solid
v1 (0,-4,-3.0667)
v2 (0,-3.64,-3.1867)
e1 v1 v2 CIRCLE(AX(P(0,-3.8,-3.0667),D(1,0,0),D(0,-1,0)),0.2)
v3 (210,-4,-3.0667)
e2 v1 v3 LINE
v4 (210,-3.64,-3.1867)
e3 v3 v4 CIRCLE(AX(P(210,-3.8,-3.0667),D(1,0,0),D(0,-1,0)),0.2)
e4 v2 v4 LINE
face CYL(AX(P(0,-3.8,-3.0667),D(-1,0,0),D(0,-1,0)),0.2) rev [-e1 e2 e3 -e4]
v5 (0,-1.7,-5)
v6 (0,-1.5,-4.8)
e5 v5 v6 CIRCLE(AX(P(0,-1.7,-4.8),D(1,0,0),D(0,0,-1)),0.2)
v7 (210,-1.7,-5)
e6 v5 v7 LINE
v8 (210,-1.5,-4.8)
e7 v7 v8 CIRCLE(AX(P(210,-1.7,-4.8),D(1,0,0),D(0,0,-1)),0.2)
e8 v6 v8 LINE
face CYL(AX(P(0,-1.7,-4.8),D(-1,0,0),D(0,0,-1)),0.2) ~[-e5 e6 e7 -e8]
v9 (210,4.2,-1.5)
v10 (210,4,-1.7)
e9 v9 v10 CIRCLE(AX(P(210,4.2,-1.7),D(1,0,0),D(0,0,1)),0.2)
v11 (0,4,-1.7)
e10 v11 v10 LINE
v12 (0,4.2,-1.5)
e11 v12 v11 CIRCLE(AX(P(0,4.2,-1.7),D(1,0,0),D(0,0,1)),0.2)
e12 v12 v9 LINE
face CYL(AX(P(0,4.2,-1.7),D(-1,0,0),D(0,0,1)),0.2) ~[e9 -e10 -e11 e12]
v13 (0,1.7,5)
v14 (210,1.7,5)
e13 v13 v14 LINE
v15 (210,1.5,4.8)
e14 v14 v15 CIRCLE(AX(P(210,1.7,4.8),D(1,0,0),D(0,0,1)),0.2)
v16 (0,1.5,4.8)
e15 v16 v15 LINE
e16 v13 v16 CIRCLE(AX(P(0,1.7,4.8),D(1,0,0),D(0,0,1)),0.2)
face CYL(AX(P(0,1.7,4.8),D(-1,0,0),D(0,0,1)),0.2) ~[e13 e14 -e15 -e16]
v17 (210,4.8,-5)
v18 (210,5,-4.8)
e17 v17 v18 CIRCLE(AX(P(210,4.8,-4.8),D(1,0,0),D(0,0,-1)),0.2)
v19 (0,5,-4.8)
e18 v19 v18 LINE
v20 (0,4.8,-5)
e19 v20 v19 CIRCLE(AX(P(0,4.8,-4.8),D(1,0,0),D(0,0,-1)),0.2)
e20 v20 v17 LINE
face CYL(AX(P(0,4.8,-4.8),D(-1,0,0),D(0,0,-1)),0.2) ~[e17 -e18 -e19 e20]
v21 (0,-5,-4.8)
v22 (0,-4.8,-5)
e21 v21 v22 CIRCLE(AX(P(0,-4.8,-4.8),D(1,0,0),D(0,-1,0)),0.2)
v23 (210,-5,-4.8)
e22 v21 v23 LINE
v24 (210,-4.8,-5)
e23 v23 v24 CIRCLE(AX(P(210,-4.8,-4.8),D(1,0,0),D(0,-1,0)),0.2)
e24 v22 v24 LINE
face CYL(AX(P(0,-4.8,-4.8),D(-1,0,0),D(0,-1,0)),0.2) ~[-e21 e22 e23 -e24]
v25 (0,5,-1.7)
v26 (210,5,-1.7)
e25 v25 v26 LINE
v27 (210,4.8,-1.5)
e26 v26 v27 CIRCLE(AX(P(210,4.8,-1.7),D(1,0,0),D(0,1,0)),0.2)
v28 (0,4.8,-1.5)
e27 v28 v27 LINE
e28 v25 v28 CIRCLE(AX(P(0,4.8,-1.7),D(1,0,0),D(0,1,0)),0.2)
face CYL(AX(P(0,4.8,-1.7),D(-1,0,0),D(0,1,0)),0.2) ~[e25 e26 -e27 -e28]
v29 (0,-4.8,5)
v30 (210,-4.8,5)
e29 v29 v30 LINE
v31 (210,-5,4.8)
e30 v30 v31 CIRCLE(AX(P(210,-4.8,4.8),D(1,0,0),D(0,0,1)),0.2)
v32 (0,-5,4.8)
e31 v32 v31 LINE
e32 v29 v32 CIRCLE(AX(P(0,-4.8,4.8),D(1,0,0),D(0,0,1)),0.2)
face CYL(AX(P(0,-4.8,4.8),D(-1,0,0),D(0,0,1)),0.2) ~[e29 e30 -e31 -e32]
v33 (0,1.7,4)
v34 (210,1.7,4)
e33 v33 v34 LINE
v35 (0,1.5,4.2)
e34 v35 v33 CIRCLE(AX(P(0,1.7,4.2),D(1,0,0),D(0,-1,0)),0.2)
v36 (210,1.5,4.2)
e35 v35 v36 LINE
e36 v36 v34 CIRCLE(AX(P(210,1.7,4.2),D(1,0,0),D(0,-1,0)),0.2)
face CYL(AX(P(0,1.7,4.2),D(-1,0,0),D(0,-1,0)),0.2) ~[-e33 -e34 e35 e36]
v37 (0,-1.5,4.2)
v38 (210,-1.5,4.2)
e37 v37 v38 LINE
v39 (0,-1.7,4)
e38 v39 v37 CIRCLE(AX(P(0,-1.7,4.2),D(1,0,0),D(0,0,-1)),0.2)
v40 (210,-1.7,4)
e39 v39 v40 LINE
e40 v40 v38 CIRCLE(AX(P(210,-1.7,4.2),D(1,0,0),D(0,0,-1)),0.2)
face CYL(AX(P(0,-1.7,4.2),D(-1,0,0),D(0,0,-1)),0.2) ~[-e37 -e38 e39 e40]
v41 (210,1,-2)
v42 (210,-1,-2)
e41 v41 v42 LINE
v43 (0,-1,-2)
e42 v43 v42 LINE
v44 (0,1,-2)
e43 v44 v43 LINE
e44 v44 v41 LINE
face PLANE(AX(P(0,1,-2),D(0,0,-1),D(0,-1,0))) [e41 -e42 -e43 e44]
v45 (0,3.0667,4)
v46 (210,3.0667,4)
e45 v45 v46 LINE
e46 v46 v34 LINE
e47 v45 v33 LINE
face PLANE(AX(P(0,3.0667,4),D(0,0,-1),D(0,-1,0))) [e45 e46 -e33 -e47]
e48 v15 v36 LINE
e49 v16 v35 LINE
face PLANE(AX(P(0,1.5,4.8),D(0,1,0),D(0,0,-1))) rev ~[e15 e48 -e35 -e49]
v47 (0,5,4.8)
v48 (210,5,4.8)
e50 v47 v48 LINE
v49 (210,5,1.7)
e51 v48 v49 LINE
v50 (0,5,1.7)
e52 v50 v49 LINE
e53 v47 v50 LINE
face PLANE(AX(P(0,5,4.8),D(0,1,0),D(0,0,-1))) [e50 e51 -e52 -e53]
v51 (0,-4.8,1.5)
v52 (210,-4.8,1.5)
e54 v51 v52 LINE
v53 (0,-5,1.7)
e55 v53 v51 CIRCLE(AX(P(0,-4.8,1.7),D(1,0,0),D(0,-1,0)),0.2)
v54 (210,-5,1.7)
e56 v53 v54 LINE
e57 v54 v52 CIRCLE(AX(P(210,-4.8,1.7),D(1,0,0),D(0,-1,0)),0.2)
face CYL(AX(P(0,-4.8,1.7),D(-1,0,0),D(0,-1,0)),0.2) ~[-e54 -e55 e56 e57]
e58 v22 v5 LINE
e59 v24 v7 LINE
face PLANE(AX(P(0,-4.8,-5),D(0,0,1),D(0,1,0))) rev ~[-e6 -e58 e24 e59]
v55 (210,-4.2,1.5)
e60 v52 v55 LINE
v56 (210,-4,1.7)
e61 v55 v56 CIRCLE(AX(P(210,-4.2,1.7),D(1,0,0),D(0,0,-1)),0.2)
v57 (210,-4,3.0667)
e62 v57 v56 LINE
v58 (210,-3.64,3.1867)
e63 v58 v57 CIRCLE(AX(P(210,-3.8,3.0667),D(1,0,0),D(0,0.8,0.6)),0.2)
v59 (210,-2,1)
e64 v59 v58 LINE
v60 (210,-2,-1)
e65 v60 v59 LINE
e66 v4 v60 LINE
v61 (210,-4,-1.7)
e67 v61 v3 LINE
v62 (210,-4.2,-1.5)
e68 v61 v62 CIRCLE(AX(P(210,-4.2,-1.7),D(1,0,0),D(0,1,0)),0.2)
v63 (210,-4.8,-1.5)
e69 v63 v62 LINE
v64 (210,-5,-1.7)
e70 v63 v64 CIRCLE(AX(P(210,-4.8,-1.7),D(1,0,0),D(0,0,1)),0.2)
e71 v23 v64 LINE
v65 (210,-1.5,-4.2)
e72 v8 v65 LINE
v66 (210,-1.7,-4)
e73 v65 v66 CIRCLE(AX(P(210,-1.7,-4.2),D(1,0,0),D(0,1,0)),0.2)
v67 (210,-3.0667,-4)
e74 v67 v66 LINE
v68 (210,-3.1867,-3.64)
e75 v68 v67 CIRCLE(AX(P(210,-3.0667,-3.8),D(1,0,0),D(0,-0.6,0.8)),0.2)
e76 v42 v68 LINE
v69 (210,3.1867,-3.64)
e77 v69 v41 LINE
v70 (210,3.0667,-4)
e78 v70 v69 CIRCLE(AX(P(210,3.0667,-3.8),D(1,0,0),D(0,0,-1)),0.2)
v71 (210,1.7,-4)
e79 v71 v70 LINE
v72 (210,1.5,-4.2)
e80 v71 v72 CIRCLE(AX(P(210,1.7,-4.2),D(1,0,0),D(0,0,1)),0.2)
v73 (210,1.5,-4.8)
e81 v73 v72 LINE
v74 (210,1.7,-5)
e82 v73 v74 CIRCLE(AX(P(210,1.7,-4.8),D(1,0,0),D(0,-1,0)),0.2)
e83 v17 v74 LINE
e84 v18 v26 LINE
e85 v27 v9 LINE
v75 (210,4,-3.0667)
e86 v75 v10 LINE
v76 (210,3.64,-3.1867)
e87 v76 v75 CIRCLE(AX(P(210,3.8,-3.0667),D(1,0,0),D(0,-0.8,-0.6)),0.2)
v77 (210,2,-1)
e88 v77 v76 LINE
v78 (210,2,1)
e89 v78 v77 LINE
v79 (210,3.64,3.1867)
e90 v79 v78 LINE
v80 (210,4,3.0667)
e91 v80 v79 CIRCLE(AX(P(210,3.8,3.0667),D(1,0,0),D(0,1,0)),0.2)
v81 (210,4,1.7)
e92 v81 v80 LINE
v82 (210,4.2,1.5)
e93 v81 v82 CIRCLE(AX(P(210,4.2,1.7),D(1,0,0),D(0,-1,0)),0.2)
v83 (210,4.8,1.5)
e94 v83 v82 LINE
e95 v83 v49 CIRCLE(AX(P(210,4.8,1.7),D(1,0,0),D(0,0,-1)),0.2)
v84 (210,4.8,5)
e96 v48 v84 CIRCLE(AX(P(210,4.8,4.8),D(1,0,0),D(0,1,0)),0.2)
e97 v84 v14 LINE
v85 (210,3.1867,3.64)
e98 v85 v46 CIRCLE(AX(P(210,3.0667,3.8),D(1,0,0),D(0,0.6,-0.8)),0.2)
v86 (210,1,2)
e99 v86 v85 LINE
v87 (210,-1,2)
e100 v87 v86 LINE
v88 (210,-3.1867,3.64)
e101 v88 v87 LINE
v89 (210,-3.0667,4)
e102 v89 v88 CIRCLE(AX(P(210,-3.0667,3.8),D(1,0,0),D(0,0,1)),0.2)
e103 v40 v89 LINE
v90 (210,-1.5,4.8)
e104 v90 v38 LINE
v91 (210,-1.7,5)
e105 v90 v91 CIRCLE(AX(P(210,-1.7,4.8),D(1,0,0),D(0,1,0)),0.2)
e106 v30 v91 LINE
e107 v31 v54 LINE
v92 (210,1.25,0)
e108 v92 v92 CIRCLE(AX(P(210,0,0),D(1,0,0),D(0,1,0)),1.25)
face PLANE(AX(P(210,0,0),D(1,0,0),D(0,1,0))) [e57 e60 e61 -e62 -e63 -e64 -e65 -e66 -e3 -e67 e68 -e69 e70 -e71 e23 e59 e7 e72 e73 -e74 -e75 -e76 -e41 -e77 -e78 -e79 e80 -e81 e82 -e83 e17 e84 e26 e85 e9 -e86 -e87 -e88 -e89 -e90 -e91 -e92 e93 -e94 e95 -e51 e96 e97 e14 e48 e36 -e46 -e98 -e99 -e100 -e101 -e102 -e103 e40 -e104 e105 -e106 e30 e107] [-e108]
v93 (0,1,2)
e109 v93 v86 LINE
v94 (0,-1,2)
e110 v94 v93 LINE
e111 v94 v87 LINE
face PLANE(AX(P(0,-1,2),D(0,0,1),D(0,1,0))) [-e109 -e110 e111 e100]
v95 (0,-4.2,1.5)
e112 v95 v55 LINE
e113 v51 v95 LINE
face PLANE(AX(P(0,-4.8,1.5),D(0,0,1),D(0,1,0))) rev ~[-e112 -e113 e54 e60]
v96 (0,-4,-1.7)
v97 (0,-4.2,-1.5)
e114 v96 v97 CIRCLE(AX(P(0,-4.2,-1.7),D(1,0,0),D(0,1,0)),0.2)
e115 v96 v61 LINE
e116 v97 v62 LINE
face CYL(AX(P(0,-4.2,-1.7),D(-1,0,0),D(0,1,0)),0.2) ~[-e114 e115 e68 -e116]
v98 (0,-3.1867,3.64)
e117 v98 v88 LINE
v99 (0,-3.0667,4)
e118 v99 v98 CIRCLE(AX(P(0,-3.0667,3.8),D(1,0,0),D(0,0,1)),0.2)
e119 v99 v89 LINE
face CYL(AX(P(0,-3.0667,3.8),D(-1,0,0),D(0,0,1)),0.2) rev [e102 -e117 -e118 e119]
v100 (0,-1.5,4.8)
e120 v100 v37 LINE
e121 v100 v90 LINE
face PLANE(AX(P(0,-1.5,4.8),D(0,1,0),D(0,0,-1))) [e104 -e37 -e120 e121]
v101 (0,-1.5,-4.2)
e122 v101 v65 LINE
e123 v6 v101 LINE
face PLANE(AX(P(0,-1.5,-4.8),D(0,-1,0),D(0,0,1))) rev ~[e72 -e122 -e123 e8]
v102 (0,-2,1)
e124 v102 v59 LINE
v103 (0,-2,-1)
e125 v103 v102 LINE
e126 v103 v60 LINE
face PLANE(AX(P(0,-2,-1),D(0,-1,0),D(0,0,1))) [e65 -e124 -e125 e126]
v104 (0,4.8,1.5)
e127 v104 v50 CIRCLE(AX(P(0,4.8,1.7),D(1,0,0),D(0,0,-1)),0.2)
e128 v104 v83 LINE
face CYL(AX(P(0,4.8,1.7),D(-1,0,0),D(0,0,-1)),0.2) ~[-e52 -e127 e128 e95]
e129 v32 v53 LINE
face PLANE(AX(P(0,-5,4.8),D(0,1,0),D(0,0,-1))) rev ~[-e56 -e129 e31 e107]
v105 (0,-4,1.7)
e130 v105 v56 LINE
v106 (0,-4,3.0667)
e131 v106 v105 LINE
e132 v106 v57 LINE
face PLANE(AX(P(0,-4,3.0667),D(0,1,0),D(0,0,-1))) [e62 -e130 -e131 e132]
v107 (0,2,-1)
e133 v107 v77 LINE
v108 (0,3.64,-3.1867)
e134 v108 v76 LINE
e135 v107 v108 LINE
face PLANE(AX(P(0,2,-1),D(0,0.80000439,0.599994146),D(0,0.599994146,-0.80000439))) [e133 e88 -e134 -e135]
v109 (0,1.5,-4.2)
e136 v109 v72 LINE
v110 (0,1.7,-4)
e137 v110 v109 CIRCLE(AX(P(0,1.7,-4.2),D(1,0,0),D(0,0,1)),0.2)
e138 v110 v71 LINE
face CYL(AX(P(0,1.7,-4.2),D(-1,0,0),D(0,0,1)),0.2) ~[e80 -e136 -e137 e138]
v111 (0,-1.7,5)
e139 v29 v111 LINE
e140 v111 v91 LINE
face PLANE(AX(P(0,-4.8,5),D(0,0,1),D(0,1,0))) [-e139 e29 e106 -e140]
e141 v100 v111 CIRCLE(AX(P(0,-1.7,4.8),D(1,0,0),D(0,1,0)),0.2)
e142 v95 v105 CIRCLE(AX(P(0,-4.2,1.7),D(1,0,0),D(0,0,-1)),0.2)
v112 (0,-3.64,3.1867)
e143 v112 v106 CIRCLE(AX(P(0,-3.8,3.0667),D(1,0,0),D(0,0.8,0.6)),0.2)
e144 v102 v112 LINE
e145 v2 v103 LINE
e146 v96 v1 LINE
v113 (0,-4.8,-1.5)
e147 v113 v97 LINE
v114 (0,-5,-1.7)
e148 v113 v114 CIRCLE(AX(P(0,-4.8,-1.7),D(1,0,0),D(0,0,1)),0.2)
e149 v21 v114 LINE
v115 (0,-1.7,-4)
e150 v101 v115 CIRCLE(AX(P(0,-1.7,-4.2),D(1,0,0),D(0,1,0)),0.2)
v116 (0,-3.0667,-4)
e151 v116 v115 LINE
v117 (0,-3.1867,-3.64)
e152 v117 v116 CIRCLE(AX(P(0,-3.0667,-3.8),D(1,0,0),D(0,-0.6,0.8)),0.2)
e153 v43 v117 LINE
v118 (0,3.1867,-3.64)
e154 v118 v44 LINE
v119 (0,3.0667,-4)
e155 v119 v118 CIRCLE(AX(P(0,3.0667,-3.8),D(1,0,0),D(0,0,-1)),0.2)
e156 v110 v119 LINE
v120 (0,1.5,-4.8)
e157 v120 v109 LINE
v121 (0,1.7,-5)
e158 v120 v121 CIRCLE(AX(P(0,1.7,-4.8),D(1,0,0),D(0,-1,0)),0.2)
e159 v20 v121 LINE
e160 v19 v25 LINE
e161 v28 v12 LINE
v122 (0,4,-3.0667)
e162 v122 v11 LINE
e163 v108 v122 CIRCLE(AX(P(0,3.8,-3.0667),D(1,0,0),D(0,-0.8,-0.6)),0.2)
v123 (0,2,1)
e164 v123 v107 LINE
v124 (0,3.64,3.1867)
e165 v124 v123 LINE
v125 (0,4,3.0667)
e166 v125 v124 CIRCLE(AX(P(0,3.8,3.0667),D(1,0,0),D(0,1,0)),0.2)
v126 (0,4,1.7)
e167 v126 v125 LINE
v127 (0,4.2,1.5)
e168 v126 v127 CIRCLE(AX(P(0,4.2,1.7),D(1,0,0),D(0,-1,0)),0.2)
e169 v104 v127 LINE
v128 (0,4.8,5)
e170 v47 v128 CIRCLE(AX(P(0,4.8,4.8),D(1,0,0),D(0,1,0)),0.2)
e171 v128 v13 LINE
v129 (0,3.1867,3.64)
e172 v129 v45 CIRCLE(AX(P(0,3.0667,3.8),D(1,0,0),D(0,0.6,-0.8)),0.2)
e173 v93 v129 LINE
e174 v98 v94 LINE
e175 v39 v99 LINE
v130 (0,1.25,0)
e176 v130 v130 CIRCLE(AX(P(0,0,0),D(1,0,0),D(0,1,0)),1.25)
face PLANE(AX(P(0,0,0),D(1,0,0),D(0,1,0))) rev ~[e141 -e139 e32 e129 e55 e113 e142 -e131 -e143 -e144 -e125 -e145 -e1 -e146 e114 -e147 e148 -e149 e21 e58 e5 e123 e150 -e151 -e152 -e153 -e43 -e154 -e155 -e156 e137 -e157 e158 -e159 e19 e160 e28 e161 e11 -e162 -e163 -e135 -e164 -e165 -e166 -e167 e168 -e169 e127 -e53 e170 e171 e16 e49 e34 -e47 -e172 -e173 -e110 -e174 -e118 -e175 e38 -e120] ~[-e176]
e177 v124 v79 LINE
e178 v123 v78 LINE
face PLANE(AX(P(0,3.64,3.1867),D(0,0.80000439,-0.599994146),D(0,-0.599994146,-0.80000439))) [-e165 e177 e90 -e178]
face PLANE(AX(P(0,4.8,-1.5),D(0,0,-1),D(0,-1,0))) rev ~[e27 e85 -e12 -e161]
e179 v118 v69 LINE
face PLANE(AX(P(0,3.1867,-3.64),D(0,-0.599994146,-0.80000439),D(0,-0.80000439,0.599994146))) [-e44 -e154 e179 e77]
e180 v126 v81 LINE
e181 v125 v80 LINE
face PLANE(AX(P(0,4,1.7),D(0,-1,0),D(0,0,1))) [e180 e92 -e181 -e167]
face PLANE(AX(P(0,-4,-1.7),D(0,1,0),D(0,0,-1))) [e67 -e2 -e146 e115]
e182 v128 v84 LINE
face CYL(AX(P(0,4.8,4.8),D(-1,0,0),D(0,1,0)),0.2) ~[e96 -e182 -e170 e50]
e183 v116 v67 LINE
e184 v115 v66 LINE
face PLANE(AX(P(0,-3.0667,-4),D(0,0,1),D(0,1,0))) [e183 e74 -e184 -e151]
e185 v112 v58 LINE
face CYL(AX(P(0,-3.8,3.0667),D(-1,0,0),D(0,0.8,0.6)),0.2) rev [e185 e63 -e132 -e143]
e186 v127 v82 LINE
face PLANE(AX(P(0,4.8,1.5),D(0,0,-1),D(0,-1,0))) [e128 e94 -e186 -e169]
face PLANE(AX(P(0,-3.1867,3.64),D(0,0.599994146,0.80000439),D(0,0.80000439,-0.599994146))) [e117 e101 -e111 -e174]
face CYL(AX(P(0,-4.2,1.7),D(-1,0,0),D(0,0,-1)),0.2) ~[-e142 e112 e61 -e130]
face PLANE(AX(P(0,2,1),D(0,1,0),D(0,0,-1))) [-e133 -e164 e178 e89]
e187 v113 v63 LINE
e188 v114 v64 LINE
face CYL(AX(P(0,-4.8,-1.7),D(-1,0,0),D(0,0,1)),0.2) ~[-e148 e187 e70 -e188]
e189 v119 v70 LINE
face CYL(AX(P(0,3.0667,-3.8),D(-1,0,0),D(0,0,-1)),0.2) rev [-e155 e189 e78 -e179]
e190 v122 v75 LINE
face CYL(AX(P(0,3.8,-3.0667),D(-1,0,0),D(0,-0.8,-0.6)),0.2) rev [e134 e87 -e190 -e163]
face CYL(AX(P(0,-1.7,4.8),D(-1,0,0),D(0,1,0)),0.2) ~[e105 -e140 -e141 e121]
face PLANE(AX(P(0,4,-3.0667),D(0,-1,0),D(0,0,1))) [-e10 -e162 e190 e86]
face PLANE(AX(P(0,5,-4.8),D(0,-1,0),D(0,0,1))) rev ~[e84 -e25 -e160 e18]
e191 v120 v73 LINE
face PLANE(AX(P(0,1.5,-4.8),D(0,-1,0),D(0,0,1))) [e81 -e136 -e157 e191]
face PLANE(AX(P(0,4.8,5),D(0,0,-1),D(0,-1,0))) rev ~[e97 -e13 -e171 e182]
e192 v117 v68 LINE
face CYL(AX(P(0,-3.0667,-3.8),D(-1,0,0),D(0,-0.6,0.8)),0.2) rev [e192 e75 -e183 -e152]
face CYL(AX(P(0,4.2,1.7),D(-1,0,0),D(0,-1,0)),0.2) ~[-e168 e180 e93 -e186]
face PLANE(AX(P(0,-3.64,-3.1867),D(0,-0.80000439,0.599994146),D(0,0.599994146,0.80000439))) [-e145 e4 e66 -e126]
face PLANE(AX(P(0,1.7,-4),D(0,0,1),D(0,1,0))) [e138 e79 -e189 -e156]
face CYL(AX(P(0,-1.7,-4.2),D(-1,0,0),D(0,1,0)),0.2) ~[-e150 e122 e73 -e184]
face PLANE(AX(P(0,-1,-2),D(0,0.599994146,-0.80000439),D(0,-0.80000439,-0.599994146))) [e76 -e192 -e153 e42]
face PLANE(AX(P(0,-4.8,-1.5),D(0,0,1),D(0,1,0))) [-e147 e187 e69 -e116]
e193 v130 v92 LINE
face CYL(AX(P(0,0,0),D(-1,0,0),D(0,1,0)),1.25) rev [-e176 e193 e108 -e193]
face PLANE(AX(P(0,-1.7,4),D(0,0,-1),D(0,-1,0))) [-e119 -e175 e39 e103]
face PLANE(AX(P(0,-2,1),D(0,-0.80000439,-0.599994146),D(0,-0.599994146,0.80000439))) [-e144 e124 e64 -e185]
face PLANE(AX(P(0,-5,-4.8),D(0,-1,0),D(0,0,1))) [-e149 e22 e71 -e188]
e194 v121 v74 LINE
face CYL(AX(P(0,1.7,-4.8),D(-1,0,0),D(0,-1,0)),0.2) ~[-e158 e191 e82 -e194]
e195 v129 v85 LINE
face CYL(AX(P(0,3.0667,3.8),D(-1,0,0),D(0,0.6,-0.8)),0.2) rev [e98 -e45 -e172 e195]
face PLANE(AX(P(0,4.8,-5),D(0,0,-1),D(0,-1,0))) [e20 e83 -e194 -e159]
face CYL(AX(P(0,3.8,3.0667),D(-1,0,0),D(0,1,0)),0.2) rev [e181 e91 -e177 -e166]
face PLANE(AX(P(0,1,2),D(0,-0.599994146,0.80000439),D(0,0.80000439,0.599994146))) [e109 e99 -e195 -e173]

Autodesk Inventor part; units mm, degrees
ref_plane "YZ Plane" through (0, 0, 0) normal (1, 0, 0) x (0, 1, 0)
ref_plane "XZ Plane" through (0, 0, 0) normal (0, 1, 0) x (-1, 0, 0)
ref_plane "XY Plane" through (0, 0, 0) normal (0, 0, 1) x (1, 0, 0)
sketch "Esquisse1" plane through (0, 0, 0) normal (1, 0, 0) x (0, 1, 0)
  line L0 (-5, -5) -> (5, 5) construction
  line L1 (5, -5) -> (-5, 5) construction
  circle A0 centre (0, 0) radius 1.25
  line L2 (2, 1) -> (2, -1)
  line L3 (-1, 2) -> (1, 2)
  line L4 (-2, -1) -> (-2, 1)
  line L5 (1, -2) -> (-1, -2)
  line L6 (4.8, -5) -> (1.7, -5)
  line L7 (5, -4.8) -> (5, -1.7)
  line L8 (1.5, -4.8) -> (1.5, -4.2)
  line L9 (12.6837, 0) -> (-8.9006, 0) construction
  line L10 (1.5, -4) -> (4, -4) construction
  line L11 (4, -4) -> (4, -1.5) construction
  line L12 (4, -1.5) -> (5, -1.5) construction
  line L13 (5, -5) -> (2, -1) construction
  line L14 (2, -1) -> (4, -3.6667) construction
  line L15 (2, -1) -> (4, -3.6667) construction
  line L16 (4, -3.0667) -> (4, -1.7)
  line L17 (4.8, -1.5) -> (4.2, -1.5)
  line L18 (1, -2) -> (5, -5) construction
  line L19 (1.7, -4) -> (3.0667, -4)
  line L20 (3.1867, -3.64) -> (1, -2)
  line L21 (2, -1) -> (3.64, -3.1867)
  arc A1 (5, -1.7) -> (4.8, -1.5) centre (4.8, -1.7) ccw
  arc A2 (4.2, -1.5) -> (4, -1.7) centre (4.2, -1.7) ccw
  arc A3 (4.8, -5) -> (5, -4.8) centre (4.8, -4.8) ccw
  arc A4 (1.5, -4.8) -> (1.7, -5) centre (1.7, -4.8) ccw
  arc A5 (1.7, -4) -> (1.5, -4.2) centre (1.7, -4.2) ccw
  arc A6 (3.0667, -4) -> (3.1867, -3.64) centre (3.0667, -3.8) ccw
  arc A7 (3.64, -3.1867) -> (4, -3.0667) centre (3.8, -3.0667) ccw
  arc A8 (3.1867, 3.64) -> (3.0667, 4) centre (3.0667, 3.8) ccw
  line L22 (1.5, 4.8) -> (1.5, 4.2)
  line L23 (1.5, 4) -> (1.5, 5) construction
  arc A9 (4, 3.0667) -> (3.64, 3.1867) centre (3.8, 3.0667) ccw
  line L24 (3.0667, 4) -> (1.7, 4)
  arc A10 (1.5, 4.2) -> (1.7, 4) centre (1.7, 4.2) ccw
  line L25 (4, 1.7) -> (4, 3.0667)
  line L26 (4, 4) -> (1.5, 4) construction
  line L27 (1, 2) -> (3.1867, 3.64)
  line L28 (4.8, 1.5) -> (4.2, 1.5)
  line L29 (1, 2) -> (3.6667, 4) construction
  line L30 (1, 2) -> (3.6667, 4) construction
  line L31 (4.8, 5) -> (1.7, 5)
  line L32 (3.64, 3.1867) -> (2, 1)
  line L33 (5, 4.8) -> (5, 1.7)
  line L34 (5, 5) -> (1, 2) construction
  line L35 (2, 1) -> (5, 5) construction
  line L36 (4, 1.5) -> (4, 4) construction
  circle A11 centre (0, 0) radius 1.25
  line L37 (-1, 2) -> (1, 2)
  line L38 (-2, -1) -> (-2, 1)
  line L39 (1, -2) -> (-1, -2)
  line L40 (2, 1) -> (2, -1)
  arc A12 (1.7, 5) -> (1.5, 4.8) centre (1.7, 4.8) ccw
  arc A13 (5, 4.8) -> (4.8, 5) centre (4.8, 4.8) ccw
  arc A14 (4, 1.7) -> (4.2, 1.5) centre (4.2, 1.7) ccw
  arc A15 (4.8, 1.5) -> (5, 1.7) centre (4.8, 1.7) ccw
  arc A16 (-3.64, 3.1867) -> (-4, 3.0667) centre (-3.8, 3.0667) ccw
  line L41 (-4.8, 1.5) -> (-4.2, 1.5)
  line L42 (-4, 1.5) -> (-5, 1.5) construction
  arc A17 (-3.0667, 4) -> (-3.1867, 3.64) centre (-3.0667, 3.8) ccw
  line L43 (-4, 3.0667) -> (-4, 1.7)
  arc A18 (-4.2, 1.5) -> (-4, 1.7) centre (-4.2, 1.7) ccw
  line L44 (-1.7, 4) -> (-3.0667, 4)
  line L45 (-4, 4) -> (-4, 1.5) construction
  line L46 (-2, 1) -> (-3.64, 3.1867)
  line L47 (-1.5, 4.8) -> (-1.5, 4.2)
  line L48 (-2, 1) -> (-4, 3.6667) construction
  line L49 (-2, 1) -> (-4, 3.6667) construction
  line L50 (-5, 4.8) -> (-5, 1.7)
  line L51 (-3.1867, 3.64) -> (-1, 2)
  line L52 (-4.8, 5) -> (-1.7, 5)
  line L53 (-5, 5) -> (-2, 1) construction
  line L54 (-1, 2) -> (-5, 5) construction
  line L55 (-1.5, 4) -> (-4, 4) construction
  circle A19 centre (0, 0) radius 1.25
  line L56 (-2, -1) -> (-2, 1)
  line L57 (1, -2) -> (-1, -2)
  line L58 (2, 1) -> (2, -1)
  line L59 (-1, 2) -> (1, 2)
  arc A20 (-5, 1.7) -> (-4.8, 1.5) centre (-4.8, 1.7) ccw
  arc A21 (-4.8, 5) -> (-5, 4.8) centre (-4.8, 4.8) ccw
  arc A22 (-1.7, 4) -> (-1.5, 4.2) centre (-1.7, 4.2) ccw
  arc A23 (-1.5, 4.8) -> (-1.7, 5) centre (-1.7, 4.8) ccw
  arc A24 (-3.1867, -3.64) -> (-3.0667, -4) centre (-3.0667, -3.8) ccw
  line L60 (-1.5, -4.8) -> (-1.5, -4.2)
  line L61 (-1.5, -4) -> (-1.5, -5) construction
  arc A25 (-4, -3.0667) -> (-3.64, -3.1867) centre (-3.8, -3.0667) ccw
  line L62 (-3.0667, -4) -> (-1.7, -4)
  arc A26 (-1.5, -4.2) -> (-1.7, -4) centre (-1.7, -4.2) ccw
  line L63 (-4, -1.7) -> (-4, -3.0667)
  line L64 (-4, -4) -> (-1.5, -4) construction
  line L65 (-1, -2) -> (-3.1867, -3.64)
  line L66 (-4.8, -1.5) -> (-4.2, -1.5)
  line L67 (-1, -2) -> (-3.6667, -4) construction
  line L68 (-1, -2) -> (-3.6667, -4) construction
  line L69 (-4.8, -5) -> (-1.7, -5)
  line L70 (-3.64, -3.1867) -> (-2, -1)
  line L71 (-5, -4.8) -> (-5, -1.7)
  line L72 (-5, -5) -> (-1, -2) construction
  line L73 (-2, -1) -> (-5, -5) construction
  line L74 (-4, -1.5) -> (-4, -4) construction
  circle A27 centre (0, 0) radius 1.25
  line L75 (1, -2) -> (-1, -2)
  line L76 (2, 1) -> (2, -1)
  line L77 (-1, 2) -> (1, 2)
  line L78 (-2, -1) -> (-2, 1)
  arc A28 (-1.7, -5) -> (-1.5, -4.8) centre (-1.7, -4.8) ccw
  arc A29 (-5, -4.8) -> (-4.8, -5) centre (-4.8, -4.8) ccw
  arc A30 (-4, -1.7) -> (-4.2, -1.5) centre (-4.2, -1.7) ccw
  arc A31 (-4.8, -1.5) -> (-5, -1.7) centre (-4.8, -1.7) ccw
  point P0 (2, 0)
  point P1 (0, 2)
  point P2 (-2, 0)
  point P3 (0, -2)
  point P4 (1.5, -5)
  point P5 (3.6667, -4)
  point P6 (4, 3.6667)
  point P7 (5, 1.5)
  point P8 (0, 2)
  point P9 (-2, 0)
  point P10 (0, -2)
  point P11 (2, 0)
  point P12 (-3.6667, 4)
  point P13 (-1.5, 5)
  point P14 (-2, 0)
  point P15 (0, -2)
  point P16 (2, 0)
  point P17 (0, 2)
  point P18 (-4, -3.6667)
  point P19 (-5, -1.5)
  point P20 (0, -2)
  point P21 (2, 0)
  point P22 (0, 2)
  point P23 (-2, 0)
  dimension "d0" = 10
  dimension "d1" = 10
  dimension "d19" = 2.5
  dimension "d30" = 2
  dimension "d36" = 360
  dimension "d39" = 3.5
  dimension "d40" = 3.5
  dimension "d41" = 1
  dimension "d50" = 0.2
  dimension "d60" = 0.2
  dimension "d61" = 0.2
  dimension "d62" = 0.2
  dimension "d63" = 0.2
  dimension "d64" = 0.2
  dimension "d73" = 0.2
  dimension "d80" = 360
extrude "Extrusion1" add sketch "Esquisse1" along normal blind 210
properties part number "profile210"
